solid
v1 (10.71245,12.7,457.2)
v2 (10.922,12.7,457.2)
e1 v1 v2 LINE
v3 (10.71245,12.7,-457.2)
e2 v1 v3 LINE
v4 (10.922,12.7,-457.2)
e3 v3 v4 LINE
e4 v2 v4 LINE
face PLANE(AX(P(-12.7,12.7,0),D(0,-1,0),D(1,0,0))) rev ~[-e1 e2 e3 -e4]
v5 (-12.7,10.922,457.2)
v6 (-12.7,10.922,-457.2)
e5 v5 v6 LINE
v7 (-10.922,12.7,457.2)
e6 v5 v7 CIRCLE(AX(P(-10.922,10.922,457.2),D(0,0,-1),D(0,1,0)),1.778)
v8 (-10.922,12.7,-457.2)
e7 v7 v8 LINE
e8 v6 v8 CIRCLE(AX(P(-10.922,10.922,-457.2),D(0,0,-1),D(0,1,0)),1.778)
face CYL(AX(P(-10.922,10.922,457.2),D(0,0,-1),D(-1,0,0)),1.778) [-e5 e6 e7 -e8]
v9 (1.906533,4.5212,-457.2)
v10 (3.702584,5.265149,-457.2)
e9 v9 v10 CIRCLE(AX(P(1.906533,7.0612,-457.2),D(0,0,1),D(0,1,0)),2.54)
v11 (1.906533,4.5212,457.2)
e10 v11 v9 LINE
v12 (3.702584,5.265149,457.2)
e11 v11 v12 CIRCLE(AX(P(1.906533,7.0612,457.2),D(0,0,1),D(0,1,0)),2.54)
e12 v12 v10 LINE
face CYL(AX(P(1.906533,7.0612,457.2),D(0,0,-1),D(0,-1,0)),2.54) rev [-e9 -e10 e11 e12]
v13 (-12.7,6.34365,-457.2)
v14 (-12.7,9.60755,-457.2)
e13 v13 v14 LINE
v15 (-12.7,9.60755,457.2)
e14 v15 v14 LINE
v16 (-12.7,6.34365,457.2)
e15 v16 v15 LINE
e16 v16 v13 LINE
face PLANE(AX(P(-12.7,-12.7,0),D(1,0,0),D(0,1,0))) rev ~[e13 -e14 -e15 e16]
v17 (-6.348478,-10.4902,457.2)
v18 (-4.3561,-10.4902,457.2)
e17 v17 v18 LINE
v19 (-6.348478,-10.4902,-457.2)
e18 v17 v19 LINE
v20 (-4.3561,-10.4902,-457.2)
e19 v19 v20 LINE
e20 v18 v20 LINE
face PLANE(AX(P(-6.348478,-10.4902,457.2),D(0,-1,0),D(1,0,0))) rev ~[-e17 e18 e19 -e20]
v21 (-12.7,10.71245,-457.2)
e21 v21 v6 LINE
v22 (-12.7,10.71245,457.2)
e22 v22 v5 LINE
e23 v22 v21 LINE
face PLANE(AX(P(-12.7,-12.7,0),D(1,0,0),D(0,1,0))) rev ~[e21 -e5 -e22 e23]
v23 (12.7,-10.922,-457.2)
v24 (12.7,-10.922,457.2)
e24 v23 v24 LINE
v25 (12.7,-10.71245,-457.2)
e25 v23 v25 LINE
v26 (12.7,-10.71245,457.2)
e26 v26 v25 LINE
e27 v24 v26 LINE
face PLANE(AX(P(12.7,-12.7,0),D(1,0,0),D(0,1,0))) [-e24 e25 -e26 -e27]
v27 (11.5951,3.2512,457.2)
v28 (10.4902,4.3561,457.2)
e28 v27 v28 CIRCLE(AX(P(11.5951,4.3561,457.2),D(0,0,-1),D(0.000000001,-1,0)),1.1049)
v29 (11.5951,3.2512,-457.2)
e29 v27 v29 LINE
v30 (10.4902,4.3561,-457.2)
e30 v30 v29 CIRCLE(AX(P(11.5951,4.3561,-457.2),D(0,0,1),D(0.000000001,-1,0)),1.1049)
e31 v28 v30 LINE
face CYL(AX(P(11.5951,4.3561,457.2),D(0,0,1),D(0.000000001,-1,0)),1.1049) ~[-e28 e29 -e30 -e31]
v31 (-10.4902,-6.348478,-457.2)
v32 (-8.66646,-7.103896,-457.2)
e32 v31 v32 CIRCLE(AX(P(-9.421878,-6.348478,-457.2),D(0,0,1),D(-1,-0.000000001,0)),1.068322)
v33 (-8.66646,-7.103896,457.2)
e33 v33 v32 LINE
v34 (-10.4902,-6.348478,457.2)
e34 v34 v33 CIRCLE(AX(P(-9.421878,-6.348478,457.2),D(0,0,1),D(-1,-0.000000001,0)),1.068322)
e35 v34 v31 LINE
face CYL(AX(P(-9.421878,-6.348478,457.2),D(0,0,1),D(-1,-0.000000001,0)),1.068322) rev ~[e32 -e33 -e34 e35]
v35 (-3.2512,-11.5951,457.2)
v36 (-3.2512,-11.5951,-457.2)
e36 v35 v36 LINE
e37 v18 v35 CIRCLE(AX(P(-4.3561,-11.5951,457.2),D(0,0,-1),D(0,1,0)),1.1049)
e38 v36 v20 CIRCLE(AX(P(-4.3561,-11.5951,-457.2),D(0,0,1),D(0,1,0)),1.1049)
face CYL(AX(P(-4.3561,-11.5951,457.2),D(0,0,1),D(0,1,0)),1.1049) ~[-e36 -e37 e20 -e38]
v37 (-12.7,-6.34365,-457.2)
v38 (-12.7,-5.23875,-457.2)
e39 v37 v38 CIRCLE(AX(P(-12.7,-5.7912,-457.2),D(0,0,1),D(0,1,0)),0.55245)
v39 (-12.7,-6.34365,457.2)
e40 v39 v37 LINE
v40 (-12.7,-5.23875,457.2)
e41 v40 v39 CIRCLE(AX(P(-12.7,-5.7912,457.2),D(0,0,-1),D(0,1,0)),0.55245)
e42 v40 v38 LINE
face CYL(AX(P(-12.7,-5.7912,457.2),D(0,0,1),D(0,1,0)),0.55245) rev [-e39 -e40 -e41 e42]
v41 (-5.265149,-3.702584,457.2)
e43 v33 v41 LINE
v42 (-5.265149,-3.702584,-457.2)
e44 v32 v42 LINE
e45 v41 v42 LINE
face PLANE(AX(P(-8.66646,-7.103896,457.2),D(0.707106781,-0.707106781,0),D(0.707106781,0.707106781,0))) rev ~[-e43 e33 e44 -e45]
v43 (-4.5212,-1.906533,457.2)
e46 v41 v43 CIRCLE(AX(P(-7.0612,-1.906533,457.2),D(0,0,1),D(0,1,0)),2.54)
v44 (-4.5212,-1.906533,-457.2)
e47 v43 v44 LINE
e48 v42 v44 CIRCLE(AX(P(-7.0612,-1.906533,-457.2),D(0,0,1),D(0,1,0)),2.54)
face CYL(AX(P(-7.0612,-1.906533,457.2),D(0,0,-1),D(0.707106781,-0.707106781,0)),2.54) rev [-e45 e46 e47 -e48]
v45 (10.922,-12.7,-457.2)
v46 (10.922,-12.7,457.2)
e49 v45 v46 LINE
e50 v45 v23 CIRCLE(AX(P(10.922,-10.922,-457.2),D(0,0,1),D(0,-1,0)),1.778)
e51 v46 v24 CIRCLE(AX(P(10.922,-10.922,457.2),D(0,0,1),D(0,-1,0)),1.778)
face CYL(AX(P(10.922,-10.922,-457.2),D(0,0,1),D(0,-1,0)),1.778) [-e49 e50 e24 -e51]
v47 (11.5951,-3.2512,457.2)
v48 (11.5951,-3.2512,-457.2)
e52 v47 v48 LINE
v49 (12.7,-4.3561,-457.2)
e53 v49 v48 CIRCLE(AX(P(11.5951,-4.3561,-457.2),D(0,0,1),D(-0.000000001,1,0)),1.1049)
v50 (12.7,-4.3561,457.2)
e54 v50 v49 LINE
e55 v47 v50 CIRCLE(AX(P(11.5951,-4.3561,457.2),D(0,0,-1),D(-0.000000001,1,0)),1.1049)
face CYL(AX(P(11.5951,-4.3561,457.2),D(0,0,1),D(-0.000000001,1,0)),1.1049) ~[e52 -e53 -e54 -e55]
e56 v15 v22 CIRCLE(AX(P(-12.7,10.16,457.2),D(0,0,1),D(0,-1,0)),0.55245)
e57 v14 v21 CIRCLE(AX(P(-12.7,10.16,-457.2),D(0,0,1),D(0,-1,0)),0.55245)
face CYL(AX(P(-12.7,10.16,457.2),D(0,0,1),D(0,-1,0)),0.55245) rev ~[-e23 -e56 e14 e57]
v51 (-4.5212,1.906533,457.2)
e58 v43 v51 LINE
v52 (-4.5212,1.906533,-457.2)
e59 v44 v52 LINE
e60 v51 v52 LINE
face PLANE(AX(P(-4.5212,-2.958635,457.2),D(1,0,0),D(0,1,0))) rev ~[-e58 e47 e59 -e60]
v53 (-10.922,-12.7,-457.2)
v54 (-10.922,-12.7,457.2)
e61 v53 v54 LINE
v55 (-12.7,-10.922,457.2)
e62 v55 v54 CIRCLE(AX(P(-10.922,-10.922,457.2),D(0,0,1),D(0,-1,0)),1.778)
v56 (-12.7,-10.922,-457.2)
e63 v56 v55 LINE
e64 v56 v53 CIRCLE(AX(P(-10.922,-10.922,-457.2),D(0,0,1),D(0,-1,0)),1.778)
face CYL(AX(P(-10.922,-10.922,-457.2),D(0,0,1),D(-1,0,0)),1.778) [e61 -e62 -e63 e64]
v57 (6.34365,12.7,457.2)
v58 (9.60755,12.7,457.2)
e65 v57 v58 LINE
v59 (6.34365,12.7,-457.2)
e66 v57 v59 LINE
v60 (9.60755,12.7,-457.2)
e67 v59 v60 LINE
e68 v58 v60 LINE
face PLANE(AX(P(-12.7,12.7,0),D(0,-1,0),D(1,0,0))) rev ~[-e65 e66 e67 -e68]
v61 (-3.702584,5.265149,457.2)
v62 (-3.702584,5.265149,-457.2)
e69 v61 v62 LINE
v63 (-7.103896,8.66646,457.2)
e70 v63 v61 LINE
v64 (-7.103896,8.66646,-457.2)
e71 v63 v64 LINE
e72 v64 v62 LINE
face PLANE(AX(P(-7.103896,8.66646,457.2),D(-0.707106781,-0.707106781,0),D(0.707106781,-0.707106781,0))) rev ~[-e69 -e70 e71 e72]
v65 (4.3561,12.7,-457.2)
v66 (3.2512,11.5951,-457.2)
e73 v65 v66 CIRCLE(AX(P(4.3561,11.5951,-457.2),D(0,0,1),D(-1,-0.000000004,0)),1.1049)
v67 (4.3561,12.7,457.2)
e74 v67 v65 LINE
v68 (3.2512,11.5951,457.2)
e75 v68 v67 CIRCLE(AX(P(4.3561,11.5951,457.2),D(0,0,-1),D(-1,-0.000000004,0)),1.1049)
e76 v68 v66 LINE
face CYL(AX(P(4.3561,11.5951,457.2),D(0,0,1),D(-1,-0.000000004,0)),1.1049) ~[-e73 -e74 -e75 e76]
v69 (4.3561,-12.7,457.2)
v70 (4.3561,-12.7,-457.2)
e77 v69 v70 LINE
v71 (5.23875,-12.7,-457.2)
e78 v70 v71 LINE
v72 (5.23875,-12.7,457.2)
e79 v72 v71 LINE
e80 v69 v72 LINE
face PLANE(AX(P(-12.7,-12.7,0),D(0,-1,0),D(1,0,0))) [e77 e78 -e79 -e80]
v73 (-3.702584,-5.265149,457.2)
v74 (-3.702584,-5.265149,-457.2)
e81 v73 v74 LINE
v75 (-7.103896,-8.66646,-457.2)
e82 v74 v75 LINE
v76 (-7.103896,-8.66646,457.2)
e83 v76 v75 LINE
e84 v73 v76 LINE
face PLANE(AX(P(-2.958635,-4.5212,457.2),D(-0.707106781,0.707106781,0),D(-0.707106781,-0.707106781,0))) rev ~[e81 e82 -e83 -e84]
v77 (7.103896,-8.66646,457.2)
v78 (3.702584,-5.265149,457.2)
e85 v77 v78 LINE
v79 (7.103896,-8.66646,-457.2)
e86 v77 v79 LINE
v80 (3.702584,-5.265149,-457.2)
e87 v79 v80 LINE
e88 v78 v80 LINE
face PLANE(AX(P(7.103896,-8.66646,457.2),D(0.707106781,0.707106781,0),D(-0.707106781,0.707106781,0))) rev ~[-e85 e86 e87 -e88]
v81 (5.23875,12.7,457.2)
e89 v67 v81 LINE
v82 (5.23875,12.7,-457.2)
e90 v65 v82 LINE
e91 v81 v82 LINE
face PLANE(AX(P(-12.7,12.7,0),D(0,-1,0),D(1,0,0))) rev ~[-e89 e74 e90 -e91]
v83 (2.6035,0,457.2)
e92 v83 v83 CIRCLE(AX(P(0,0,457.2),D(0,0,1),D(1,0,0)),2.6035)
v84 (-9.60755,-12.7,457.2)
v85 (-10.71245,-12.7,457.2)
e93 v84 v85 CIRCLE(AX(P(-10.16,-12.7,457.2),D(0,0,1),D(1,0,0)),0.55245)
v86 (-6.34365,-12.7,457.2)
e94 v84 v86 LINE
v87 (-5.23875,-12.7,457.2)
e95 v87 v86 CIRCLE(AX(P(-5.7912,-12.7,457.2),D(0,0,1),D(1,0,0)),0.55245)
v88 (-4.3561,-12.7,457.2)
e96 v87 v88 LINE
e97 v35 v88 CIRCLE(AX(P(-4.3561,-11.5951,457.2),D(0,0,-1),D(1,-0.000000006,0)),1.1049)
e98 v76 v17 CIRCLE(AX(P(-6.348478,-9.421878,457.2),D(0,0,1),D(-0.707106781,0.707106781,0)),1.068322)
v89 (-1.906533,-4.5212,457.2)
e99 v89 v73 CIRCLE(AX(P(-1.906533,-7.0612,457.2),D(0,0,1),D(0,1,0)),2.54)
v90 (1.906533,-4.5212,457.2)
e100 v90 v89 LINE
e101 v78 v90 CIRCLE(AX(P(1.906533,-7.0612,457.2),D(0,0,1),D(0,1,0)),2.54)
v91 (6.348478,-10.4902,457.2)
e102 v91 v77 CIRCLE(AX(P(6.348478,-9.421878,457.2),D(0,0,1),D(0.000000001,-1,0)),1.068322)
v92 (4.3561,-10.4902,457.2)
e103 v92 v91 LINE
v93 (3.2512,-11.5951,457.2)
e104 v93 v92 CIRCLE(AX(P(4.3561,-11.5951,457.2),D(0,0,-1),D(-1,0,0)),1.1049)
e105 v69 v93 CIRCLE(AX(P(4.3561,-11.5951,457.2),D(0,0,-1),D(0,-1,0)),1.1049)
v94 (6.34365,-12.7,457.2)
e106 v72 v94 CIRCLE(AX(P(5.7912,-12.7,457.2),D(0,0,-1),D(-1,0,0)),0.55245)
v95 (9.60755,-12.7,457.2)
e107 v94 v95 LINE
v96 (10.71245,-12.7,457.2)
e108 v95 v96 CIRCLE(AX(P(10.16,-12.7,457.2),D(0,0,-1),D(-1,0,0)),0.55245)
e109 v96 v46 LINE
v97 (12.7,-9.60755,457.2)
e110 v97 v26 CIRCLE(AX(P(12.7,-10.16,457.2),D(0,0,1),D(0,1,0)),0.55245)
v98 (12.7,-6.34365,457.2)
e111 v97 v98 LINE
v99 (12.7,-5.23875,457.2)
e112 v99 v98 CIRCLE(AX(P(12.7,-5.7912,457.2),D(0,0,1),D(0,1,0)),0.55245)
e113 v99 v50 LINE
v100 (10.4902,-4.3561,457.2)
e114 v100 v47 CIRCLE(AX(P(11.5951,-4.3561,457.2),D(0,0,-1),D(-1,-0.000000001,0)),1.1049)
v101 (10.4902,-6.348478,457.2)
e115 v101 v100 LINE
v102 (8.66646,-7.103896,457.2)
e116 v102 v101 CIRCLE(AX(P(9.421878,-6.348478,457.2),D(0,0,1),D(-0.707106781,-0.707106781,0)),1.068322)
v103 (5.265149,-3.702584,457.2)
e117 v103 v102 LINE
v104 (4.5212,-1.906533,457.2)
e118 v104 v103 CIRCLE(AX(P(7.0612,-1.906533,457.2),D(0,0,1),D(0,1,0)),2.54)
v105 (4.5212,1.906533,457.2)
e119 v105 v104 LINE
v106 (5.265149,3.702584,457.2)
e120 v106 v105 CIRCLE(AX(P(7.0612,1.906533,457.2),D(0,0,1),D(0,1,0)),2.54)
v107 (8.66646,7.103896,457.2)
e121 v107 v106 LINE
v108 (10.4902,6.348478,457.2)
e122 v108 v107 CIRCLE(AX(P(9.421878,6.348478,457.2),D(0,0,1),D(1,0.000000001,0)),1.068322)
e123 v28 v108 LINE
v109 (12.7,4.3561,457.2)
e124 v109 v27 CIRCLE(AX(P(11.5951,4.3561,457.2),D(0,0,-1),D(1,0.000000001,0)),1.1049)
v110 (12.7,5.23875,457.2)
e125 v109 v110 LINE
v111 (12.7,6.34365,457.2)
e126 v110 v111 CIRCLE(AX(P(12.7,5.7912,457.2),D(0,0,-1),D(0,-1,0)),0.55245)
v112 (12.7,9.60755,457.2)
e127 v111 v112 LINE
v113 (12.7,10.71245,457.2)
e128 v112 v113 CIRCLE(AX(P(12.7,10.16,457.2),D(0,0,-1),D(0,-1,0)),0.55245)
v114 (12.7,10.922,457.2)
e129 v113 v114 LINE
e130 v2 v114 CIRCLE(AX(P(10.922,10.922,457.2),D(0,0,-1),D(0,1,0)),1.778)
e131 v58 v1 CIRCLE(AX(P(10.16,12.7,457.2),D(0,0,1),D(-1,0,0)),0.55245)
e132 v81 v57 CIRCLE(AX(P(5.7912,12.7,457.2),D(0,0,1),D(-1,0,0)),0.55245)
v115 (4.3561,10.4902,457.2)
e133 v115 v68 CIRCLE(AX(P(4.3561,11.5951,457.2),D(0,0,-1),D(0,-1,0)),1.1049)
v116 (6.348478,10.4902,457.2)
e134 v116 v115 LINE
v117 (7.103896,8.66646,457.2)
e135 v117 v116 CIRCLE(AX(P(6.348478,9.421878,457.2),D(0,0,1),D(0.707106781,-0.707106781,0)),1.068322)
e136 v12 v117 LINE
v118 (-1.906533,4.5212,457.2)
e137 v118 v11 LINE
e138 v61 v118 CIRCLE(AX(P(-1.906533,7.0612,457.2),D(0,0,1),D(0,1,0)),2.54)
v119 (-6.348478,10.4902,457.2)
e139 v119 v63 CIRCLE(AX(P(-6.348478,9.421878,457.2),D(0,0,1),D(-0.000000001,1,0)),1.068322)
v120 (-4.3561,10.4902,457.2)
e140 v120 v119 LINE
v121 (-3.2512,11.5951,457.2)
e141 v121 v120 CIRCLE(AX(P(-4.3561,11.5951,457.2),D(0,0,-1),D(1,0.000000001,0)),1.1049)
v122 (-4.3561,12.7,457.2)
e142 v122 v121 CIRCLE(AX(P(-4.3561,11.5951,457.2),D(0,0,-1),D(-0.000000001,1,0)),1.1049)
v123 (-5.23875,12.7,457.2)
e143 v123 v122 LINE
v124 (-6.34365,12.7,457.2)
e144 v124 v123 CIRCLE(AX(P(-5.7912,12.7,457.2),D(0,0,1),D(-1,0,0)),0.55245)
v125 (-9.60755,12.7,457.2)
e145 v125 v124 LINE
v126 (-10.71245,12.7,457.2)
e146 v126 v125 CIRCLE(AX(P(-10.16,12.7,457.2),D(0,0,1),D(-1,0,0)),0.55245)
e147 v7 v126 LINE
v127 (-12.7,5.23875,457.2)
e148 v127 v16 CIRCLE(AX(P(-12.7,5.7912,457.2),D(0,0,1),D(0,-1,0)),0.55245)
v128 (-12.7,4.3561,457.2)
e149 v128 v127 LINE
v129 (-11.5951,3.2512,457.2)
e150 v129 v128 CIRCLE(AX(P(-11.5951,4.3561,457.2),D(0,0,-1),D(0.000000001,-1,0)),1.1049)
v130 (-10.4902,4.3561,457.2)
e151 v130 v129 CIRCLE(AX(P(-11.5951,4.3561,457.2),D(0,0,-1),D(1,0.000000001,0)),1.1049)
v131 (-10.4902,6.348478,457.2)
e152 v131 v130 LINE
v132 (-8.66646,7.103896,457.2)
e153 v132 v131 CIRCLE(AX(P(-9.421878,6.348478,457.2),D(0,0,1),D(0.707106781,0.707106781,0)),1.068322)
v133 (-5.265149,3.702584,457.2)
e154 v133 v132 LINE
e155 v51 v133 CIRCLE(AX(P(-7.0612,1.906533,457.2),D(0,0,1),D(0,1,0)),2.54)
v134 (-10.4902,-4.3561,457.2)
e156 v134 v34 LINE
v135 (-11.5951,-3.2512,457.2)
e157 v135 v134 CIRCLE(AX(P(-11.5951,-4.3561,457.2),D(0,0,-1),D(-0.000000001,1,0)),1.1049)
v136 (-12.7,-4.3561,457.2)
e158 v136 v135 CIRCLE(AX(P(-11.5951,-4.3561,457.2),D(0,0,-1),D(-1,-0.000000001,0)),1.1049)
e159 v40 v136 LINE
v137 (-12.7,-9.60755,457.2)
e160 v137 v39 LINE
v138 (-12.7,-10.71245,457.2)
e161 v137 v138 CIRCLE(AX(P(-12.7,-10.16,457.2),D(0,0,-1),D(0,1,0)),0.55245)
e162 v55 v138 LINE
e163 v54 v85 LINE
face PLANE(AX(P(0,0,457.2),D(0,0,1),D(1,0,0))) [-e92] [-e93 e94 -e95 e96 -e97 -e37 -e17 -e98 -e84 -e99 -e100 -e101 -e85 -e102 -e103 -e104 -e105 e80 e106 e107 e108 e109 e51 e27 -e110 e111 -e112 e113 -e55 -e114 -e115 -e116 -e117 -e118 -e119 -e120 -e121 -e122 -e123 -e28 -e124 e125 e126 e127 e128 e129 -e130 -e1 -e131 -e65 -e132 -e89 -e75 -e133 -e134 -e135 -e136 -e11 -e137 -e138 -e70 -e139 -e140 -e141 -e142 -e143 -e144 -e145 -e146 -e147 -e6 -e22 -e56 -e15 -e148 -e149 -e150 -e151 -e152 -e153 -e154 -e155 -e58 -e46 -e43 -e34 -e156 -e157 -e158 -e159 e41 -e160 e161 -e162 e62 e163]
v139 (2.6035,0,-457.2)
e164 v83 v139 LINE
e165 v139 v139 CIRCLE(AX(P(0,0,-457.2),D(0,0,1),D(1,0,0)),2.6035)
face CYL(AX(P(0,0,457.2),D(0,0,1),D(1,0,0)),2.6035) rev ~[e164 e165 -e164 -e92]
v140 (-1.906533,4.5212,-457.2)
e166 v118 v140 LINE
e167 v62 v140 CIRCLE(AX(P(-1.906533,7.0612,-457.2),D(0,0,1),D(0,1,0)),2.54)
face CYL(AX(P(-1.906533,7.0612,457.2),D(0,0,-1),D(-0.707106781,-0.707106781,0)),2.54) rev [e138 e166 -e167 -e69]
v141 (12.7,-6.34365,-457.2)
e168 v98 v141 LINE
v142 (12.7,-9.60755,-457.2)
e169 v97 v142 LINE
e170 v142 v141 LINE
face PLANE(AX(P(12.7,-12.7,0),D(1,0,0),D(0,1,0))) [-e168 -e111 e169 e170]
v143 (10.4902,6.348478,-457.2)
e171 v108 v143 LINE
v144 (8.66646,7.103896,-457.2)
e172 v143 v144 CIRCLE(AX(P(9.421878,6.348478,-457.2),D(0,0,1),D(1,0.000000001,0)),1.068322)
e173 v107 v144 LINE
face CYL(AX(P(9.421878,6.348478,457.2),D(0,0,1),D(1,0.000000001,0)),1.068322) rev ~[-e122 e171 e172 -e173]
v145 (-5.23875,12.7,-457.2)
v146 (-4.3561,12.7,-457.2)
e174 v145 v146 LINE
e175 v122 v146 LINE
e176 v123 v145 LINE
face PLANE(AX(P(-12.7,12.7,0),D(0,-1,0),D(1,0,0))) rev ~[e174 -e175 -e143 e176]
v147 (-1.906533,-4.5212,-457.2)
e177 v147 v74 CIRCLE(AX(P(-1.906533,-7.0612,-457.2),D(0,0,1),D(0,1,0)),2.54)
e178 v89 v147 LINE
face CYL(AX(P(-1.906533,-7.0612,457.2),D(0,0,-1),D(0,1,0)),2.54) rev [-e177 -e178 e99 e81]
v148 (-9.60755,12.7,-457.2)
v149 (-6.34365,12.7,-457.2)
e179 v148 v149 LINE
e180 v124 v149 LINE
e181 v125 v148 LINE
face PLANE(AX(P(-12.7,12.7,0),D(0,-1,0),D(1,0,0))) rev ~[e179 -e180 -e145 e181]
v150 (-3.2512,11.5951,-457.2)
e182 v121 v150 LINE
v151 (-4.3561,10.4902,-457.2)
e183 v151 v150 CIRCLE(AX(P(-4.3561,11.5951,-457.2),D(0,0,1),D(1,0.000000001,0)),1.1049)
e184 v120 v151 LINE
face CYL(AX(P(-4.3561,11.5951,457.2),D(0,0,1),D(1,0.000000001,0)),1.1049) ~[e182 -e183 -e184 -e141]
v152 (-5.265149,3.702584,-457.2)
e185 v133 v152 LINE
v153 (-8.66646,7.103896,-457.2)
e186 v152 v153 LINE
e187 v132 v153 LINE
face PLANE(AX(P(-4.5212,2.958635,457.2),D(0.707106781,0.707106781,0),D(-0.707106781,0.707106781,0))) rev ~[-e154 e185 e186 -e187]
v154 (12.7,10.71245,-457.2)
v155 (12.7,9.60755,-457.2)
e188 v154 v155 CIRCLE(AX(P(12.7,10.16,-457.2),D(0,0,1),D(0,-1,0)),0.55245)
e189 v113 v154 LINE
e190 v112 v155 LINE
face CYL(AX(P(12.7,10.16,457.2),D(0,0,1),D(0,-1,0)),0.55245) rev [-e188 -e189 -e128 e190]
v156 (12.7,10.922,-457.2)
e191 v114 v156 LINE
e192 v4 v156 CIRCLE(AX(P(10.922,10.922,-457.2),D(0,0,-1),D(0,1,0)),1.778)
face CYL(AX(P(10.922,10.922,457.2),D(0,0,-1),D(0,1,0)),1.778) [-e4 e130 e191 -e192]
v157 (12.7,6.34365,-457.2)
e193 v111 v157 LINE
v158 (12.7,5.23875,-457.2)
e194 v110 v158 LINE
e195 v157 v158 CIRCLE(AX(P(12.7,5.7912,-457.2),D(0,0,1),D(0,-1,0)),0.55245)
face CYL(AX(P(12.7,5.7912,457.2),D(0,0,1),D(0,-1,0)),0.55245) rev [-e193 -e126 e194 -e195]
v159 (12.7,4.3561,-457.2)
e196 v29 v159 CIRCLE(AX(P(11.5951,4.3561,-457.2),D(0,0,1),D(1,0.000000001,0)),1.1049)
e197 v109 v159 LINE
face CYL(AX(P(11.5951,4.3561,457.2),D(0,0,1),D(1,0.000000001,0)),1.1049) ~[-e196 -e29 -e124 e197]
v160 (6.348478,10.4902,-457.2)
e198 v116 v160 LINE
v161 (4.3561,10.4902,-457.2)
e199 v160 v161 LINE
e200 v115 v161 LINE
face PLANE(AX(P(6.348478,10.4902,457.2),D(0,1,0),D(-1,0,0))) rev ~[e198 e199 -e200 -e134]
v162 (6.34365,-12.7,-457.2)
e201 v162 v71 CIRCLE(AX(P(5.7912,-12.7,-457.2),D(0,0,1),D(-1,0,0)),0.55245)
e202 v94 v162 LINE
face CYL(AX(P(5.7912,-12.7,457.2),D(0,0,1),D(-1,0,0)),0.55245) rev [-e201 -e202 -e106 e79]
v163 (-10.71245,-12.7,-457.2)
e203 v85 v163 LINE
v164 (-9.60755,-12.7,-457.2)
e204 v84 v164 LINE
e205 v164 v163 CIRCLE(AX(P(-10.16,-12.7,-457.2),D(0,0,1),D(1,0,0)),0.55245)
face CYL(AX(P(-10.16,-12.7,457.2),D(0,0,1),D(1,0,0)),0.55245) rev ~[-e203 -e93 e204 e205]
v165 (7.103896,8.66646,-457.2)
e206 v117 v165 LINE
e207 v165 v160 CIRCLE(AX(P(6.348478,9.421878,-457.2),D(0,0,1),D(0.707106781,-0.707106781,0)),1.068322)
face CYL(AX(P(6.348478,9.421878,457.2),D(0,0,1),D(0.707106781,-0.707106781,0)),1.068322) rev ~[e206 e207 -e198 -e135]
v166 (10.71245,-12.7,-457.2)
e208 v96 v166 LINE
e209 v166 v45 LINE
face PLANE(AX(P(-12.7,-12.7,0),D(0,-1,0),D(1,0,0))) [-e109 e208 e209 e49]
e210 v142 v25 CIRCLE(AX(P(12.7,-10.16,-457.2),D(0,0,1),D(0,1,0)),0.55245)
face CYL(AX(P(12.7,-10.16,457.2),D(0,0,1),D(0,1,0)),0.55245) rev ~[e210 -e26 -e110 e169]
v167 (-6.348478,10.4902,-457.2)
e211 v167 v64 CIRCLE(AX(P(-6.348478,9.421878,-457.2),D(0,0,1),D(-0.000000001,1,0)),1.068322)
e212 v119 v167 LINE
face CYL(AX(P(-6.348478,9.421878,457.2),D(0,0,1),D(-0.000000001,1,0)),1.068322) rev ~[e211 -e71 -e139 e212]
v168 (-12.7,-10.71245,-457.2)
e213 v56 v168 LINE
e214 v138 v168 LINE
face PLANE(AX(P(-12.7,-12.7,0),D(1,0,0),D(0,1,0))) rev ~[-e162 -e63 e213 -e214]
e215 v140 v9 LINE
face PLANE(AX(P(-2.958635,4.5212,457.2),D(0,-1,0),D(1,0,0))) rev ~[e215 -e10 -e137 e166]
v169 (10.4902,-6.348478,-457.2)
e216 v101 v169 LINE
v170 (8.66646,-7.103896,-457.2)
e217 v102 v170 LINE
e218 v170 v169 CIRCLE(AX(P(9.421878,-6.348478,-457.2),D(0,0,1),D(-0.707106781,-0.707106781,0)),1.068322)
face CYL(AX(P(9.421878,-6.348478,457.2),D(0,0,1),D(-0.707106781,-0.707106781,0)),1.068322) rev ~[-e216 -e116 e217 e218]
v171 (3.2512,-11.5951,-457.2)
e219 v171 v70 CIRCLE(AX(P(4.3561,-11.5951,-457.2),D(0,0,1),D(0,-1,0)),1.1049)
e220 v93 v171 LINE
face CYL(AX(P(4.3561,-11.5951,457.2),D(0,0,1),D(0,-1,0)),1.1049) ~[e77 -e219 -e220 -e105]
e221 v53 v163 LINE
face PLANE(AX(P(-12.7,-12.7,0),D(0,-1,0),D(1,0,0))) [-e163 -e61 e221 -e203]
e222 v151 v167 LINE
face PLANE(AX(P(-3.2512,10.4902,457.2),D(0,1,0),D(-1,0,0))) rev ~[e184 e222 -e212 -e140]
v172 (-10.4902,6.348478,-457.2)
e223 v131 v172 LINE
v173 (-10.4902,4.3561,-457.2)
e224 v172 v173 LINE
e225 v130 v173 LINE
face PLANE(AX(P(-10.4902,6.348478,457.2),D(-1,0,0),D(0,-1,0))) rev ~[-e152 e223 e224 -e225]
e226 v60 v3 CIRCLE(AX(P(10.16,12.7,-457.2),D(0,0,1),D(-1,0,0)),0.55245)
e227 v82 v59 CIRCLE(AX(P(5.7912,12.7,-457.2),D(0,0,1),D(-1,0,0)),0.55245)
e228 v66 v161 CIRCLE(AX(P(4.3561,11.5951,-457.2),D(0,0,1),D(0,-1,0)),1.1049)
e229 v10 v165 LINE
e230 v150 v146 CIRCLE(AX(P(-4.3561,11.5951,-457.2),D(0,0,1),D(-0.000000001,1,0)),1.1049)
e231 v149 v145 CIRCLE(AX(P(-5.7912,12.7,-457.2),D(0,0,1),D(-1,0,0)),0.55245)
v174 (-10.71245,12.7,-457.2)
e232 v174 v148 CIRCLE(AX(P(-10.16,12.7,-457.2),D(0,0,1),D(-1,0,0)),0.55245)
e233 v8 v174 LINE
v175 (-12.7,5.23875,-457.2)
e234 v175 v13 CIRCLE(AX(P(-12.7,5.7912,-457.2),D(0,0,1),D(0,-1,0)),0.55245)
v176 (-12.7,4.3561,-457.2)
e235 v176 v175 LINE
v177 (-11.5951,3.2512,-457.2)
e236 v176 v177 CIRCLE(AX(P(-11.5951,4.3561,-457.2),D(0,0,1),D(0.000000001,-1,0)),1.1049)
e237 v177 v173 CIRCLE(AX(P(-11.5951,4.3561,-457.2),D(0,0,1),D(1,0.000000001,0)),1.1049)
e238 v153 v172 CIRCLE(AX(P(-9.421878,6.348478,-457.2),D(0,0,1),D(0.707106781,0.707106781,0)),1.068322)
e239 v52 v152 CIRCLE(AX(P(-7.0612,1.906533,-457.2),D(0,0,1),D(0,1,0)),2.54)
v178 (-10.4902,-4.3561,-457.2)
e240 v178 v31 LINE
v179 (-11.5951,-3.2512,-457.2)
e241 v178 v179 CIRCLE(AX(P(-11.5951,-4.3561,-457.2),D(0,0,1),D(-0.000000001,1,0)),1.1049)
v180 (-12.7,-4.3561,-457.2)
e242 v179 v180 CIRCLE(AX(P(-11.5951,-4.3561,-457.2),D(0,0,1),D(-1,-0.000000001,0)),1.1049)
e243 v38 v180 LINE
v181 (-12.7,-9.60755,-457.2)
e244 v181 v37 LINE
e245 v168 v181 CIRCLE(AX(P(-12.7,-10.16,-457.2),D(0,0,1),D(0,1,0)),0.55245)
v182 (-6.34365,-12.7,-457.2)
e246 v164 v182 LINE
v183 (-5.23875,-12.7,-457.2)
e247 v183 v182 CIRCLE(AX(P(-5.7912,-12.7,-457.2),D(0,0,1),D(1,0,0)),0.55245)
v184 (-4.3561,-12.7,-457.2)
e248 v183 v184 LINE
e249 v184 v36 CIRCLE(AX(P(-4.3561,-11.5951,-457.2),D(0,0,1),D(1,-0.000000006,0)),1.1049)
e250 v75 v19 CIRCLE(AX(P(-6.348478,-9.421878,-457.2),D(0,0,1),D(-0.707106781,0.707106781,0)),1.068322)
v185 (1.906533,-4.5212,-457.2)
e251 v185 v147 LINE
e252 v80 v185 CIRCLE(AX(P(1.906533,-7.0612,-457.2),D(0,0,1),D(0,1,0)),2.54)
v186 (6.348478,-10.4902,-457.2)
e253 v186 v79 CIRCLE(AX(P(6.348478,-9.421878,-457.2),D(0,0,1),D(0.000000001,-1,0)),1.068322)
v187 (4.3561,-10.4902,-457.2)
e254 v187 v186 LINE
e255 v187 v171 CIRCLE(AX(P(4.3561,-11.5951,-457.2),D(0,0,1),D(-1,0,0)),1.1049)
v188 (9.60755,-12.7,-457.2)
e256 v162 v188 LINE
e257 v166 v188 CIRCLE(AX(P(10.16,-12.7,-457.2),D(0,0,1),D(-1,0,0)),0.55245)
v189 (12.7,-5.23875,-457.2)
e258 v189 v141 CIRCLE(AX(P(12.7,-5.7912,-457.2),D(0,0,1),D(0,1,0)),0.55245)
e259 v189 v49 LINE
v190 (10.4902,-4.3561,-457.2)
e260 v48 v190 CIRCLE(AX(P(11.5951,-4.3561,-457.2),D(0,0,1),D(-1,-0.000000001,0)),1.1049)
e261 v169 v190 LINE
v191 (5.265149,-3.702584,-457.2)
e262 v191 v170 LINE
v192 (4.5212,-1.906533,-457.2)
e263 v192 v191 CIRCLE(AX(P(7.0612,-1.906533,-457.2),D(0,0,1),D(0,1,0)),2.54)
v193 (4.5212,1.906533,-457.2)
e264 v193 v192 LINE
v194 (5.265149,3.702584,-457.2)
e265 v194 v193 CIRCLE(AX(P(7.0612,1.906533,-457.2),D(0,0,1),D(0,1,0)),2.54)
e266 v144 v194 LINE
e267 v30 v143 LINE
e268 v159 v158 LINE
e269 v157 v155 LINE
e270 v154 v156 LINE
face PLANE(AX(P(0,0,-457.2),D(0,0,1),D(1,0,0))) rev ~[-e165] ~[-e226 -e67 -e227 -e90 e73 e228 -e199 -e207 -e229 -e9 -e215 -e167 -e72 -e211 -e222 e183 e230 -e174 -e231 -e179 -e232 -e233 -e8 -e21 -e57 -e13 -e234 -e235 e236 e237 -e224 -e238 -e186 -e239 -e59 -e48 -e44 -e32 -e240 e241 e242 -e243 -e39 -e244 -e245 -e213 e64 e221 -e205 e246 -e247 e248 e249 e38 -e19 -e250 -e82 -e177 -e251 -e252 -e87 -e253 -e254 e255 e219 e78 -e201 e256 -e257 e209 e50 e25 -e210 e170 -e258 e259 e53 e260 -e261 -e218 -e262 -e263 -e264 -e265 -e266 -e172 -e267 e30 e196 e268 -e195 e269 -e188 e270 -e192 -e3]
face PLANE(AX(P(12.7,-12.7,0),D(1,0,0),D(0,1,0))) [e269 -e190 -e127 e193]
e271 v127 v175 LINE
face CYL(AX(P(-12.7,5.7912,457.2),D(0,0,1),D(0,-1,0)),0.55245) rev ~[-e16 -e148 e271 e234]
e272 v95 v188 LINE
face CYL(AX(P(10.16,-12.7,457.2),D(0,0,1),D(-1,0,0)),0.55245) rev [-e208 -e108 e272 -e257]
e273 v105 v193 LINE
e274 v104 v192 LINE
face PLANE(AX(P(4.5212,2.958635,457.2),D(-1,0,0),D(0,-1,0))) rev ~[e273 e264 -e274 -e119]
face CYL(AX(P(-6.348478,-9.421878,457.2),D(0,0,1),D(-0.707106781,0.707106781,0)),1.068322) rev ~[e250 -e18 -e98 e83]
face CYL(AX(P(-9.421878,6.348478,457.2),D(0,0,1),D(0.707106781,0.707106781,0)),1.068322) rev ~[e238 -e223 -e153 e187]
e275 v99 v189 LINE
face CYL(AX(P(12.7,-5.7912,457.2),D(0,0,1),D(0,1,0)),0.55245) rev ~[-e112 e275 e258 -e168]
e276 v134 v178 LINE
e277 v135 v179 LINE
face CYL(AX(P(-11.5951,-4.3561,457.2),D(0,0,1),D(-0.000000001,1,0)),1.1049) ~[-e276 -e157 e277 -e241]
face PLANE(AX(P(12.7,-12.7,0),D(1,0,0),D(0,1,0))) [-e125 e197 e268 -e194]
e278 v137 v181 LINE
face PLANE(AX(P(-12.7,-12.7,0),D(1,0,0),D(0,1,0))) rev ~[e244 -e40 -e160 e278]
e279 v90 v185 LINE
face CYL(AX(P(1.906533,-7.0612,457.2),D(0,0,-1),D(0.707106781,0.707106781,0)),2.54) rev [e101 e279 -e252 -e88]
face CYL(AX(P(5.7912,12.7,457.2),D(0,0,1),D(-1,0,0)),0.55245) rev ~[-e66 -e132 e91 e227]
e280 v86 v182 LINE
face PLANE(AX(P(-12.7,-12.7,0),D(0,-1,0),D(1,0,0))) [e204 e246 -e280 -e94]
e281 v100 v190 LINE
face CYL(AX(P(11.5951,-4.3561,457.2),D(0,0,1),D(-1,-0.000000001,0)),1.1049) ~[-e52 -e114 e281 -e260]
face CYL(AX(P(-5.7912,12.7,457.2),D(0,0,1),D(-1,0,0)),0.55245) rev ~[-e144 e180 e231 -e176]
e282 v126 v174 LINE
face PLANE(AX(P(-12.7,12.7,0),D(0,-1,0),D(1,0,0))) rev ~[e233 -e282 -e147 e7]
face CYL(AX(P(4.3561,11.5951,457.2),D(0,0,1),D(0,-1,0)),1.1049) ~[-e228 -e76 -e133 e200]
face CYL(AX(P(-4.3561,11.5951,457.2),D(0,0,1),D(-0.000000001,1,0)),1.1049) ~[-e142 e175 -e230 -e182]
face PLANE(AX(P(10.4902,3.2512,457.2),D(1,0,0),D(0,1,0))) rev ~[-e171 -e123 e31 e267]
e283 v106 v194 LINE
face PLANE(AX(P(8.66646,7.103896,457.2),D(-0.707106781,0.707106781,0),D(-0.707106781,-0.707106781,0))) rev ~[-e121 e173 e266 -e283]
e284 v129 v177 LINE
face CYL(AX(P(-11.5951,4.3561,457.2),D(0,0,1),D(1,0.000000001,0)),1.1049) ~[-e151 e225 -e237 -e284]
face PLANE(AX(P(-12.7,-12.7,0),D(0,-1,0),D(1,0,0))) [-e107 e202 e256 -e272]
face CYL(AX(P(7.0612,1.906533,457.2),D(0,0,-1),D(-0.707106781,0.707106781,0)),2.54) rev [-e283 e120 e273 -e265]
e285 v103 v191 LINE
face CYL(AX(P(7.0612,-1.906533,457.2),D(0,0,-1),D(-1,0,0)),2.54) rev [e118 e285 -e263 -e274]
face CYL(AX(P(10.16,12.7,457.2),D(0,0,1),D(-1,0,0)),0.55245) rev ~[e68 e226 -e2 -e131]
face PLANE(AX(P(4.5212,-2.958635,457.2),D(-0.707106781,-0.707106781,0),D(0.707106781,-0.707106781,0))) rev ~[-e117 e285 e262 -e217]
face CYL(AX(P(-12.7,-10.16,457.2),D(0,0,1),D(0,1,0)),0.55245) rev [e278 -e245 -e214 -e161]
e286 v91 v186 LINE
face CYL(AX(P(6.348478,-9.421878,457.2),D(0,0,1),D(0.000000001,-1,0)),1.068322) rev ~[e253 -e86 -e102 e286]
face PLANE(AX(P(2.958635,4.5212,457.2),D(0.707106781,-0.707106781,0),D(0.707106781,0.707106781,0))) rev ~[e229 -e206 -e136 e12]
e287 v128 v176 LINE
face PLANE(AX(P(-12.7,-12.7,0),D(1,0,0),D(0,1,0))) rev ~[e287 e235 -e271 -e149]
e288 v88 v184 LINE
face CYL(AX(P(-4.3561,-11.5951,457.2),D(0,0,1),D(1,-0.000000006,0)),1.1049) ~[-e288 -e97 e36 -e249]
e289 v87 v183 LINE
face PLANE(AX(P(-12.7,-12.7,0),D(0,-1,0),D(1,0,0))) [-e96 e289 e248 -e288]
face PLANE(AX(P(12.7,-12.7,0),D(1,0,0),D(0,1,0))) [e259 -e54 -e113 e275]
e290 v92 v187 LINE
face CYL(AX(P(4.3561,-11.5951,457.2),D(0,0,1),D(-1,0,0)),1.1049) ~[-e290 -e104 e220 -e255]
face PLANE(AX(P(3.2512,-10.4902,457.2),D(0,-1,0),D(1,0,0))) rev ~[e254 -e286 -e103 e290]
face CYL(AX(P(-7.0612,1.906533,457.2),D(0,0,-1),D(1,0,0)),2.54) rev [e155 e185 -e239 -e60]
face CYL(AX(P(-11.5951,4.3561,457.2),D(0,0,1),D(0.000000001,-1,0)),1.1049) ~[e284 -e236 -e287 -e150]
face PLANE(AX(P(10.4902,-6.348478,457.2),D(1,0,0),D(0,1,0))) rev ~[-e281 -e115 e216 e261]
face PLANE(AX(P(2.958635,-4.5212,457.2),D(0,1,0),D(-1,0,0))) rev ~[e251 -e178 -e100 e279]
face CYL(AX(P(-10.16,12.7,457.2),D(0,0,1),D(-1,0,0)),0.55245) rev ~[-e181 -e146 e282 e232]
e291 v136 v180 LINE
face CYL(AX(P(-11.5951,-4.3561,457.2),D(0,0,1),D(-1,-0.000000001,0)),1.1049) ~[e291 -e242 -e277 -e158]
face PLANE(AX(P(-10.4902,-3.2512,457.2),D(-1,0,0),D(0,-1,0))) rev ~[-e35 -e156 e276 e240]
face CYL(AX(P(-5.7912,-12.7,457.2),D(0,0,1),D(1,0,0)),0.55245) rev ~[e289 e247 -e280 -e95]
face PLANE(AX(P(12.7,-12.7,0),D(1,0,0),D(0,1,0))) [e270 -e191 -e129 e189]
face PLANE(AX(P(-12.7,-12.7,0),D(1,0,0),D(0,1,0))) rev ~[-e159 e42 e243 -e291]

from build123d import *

# Parameters (mm, degrees)
SKETCH3_W                = 25.4
SKETCH3_H                = 25.4
BOSS_EXTRUDE1_DEPTH      = 457.2
BOSS_EXTRUDE1_DEPTH_BACK = 457.2
SKETCH4_R                = 2.6035
CUT_EXTRUDE1_DEPTH       = 915.4
CUT_EXTRUDE2_DEPTH       = 915.4
FILLET1_R                = 2.54
FILLET2_R                = 1.778


with BuildPart() as part:
    # Sketch3 → Boss-Extrude1 (new body, two sides)
    with BuildSketch(Plane.XY) as boss_extrude1_sk:
        Rectangle(SKETCH3_W, SKETCH3_H)
    extrude(amount=BOSS_EXTRUDE1_DEPTH)
    extrude(boss_extrude1_sk.sketch, amount=-BOSS_EXTRUDE1_DEPTH_BACK)

    # Sketch4 → Cut-Extrude1 (cut, through all)
    with BuildSketch(Plane.XY.offset(457.2)):
        with BuildLine():
            Line((3.2512, 12.7), (-3.2512, 12.7))
            Line((-3.2512, 12.7), (-3.2512, 10.4902))
            Line((-3.2512, 10.4902), (-6.348478019, 10.4902))
            ThreePointArc((-6.348478019, 10.4902), (-7.335478831, 9.830707141), (-7.103895736, 8.666460301))
            Line((-7.103895736, 8.666460301), (-2.958635435, 4.5212))
            Line((-2.958635435, 4.5212), (2.958635435, 4.5212))
            Line((2.958635435, 4.5212), (7.103895736, 8.666460301))
            ThreePointArc((7.103895736, 8.666460301), (7.335478831, 9.830707141), (6.348478019, 10.4902))
            Line((6.348478019, 10.4902), (3.2512, 10.4902))
            Line((3.2512, 10.4902), (3.2512, 12.7))
        make_face()
        with BuildLine():
            Line((12.7, -3.2512), (12.7, 3.2512))
            Line((12.7, 3.2512), (10.4902, 3.2512))
            Line((10.4902, 3.2512), (10.4902, 6.348478019))
            ThreePointArc((10.4902, 6.348478019), (9.830707141, 7.335478831), (8.666460301, 7.103895736))
            Line((8.666460301, 7.103895736), (4.5212, 2.958635435))
            Line((4.5212, 2.958635435), (4.5212, -2.958635435))
            Line((4.5212, -2.958635435), (8.666460301, -7.103895736))
            ThreePointArc((8.666460301, -7.103895736), (9.830707141, -7.335478831), (10.4902, -6.348478019))
            Line((10.4902, -6.348478019), (10.4902, -3.2512))
            Line((10.4902, -3.2512), (12.7, -3.2512))
        make_face()
        with BuildLine():
            Line((-3.2512, -10.4902), (-3.2512, -12.7))
            Line((-3.2512, -12.7), (3.2512, -12.7))
            Line((3.2512, -12.7), (3.2512, -10.4902))
            Line((3.2512, -10.4902), (6.348478019, -10.4902))
            ThreePointArc((6.348478019, -10.4902), (7.335478831, -9.830707141), (7.103895736, -8.666460301))
            Line((7.103895736, -8.666460301), (2.958635435, -4.5212))
            Line((2.958635435, -4.5212), (-2.958635435, -4.5212))
            Line((-2.958635435, -4.5212), (-7.103895736, -8.666460301))
            ThreePointArc((-7.103895736, -8.666460301), (-7.335478831, -9.830707141), (-6.348478019, -10.4902))
            Line((-6.348478019, -10.4902), (-3.2512, -10.4902))
        make_face()
        with BuildLine():
            Line((-10.4902, 3.2512), (-12.7, 3.2512))
            Line((-12.7, 3.2512), (-12.7, -3.2512))
            Line((-12.7, -3.2512), (-10.4902, -3.2512))
            Line((-10.4902, -3.2512), (-10.4902, -6.348478019))
            ThreePointArc((-10.4902, -6.348478019), (-9.830707141, -7.335478831), (-8.666460301, -7.103895736))
            Line((-8.666460301, -7.103895736), (-4.5212, -2.958635435))
            Line((-4.5212, -2.958635435), (-4.5212, 2.958635435))
            Line((-4.5212, 2.958635435), (-8.666460301, 7.103895736))
            ThreePointArc((-8.666460301, 7.103895736), (-9.830707141, 7.335478831), (-10.4902, 6.348478019))
            Line((-10.4902, 6.348478019), (-10.4902, 3.2512))
        make_face()
        Circle(SKETCH4_R)
    extrude(amount=-CUT_EXTRUDE1_DEPTH, mode=Mode.SUBTRACT)

    # Sketch5 → Cut-Extrude2 (cut, through all)
    with BuildSketch(Plane.XY.offset(457.2)):
        with BuildLine():
            ThreePointArc((-11.5951, 3.2512), (-12.376382283, 3.574817717), (-12.7, 4.3561))
            Line((-12.7, 4.3561), (-12.7, 3.2512))
            Line((-12.7, 3.2512), (-11.5951, 3.2512))
        make_face()
        with BuildLine():
            ThreePointArc((-10.4902, 4.3561), (-10.813817717, 3.574817717), (-11.5951, 3.2512))
            Line((-11.5951, 3.2512), (-10.4902, 3.2512))
            Line((-10.4902, 3.2512), (-10.4902, 4.3561))
        make_face()
        with BuildLine():
            Line((-12.7, -3.2512), (-12.7, -4.3561))
            ThreePointArc((-12.7, -4.3561), (-12.376382283, -3.574817717), (-11.5951, -3.2512))
            Line((-11.5951, -3.2512), (-12.7, -3.2512))
        make_face()
        with BuildLine():
            Line((-10.4902, -3.2512), (-11.5951, -3.2512))
            ThreePointArc((-11.5951, -3.2512), (-10.813817717, -3.574817717), (-10.4902, -4.3561))
            Line((-10.4902, -4.3561), (-10.4902, -3.2512))
        make_face()
        with BuildLine():
            Line((-3.2512, -11.595100007), (-3.2512, -10.4902))
            Line((-3.2512, -10.4902), (-4.3561, -10.4902))
            ThreePointArc((-4.3561, -10.4902), (-3.574817715, -10.81381772), (-3.2512, -11.595100007))
        make_face()
        with BuildLine():
            Line((-3.2512, -12.7), (-3.2512, -11.595100007))
            ThreePointArc((-3.2512, -11.595100007), (-3.57481772, -12.376382285), (-4.3561, -12.7))
            Line((-4.3561, -12.7), (-3.2512, -12.7))
        make_face()
        with BuildLine():
            Line((3.2512, -10.4902), (3.2512, -11.5951))
            ThreePointArc((3.2512, -11.5951), (3.574817718, -10.813817717), (4.3561, -10.4902))
            Line((4.3561, -10.4902), (3.2512, -10.4902))
        make_face()
        with BuildLine():
            Line((3.2512, -12.7), (4.3561, -12.7))
            ThreePointArc((4.3561, -12.7), (3.574817717, -12.376382282), (3.2512, -11.5951))
            Line((3.2512, -11.5951), (3.2512, -12.7))
        make_face()
        with BuildLine():
            Line((11.5951, -3.2512), (10.4902, -3.2512))
            Line((10.4902, -3.2512), (10.4902, -4.3561))
            ThreePointArc((10.4902, -4.3561), (10.813817717, -3.574817717), (11.5951, -3.2512))
        make_face()
        with BuildLine():
            Line((12.7, -3.2512), (11.5951, -3.2512))
            ThreePointArc((11.5951, -3.2512), (12.376382283, -3.574817717), (12.7, -4.3561))
            Line((12.7, -4.3561), (12.7, -3.2512))
        make_face()
        with BuildLine():
            Line((10.4902, 3.2512), (11.5951, 3.2512))
            ThreePointArc((11.5951, 3.2512), (10.813817717, 3.574817717), (10.4902, 4.3561))
            Line((10.4902, 4.3561), (10.4902, 3.2512))
        make_face()
        with BuildLine():
            Line((12.7, 3.2512), (12.7, 4.3561))
            ThreePointArc((12.7, 4.3561), (12.376382283, 3.574817717), (11.5951, 3.2512))
            Line((11.5951, 3.2512), (12.7, 3.2512))
        make_face()
        with BuildLine():
            Line((3.2512, 12.7), (3.2512, 11.595099996))
            ThreePointArc((3.2512, 11.595099996), (3.574817716, 12.376382281), (4.3561, 12.7))
            Line((4.3561, 12.7), (3.2512, 12.7))
        make_face()
        with BuildLine():
            Line((3.2512, 11.595099996), (3.2512, 10.4902))
            Line((3.2512, 10.4902), (4.3561, 10.4902))
            ThreePointArc((4.3561, 10.4902), (3.574817719, 10.813817716), (3.2512, 11.595099996))
        make_face()
        with BuildLine():
            Line((-3.2512, 12.7), (-4.3561, 12.7))
            ThreePointArc((-4.3561, 12.7), (-3.574817717, 12.376382283), (-3.2512, 11.5951))
            Line((-3.2512, 11.5951), (-3.2512, 12.7))
        make_face()
        with BuildLine():
            Line((-3.2512, 10.4902), (-3.2512, 11.5951))
            ThreePointArc((-3.2512, 11.5951), (-3.574817717, 10.813817717), (-4.3561, 10.4902))
            Line((-4.3561, 10.4902), (-3.2512, 10.4902))
        make_face()
        with BuildLine():
            ThreePointArc((-12.7, 5.23875), (-12.14755, 5.7912), (-12.7, 6.34365))
            Line((-12.7, 6.34365), (-12.7, 5.23875))
        make_face()
        with BuildLine():
            ThreePointArc((-12.7, 9.60755), (-12.14755, 10.16), (-12.7, 10.71245))
            Line((-12.7, 10.71245), (-12.7, 9.60755))
        make_face()
        with BuildLine():
            ThreePointArc((-10.71245, 12.7), (-10.16, 12.14755), (-9.60755, 12.7))
            Line((-9.60755, 12.7), (-10.71245, 12.7))
        make_face()
        with BuildLine():
            ThreePointArc((-6.34365, 12.7), (-5.7912, 12.14755), (-5.23875, 12.7))
            Line((-5.23875, 12.7), (-6.34365, 12.7))
        make_face()
        with BuildLine():
            Line((6.34365, 12.7), (5.23875, 12.7))
            ThreePointArc((5.23875, 12.7), (5.7912, 12.14755), (6.34365, 12.7))
        make_face()
        with BuildLine():
            Line((10.71245, 12.7), (9.60755, 12.7))
            ThreePointArc((9.60755, 12.7), (10.16, 12.14755), (10.71245, 12.7))
        make_face()
        with BuildLine():
            Line((12.7, 10.71245), (12.7, 9.60755))
            ThreePointArc((12.7, 9.60755), (12.14755, 10.16), (12.7, 10.71245))
        make_face()
        with BuildLine():
            Line((12.7, 6.34365), (12.7, 5.23875))
            ThreePointArc((12.7, 5.23875), (12.14755, 5.7912), (12.7, 6.34365))
        make_face()
        with BuildLine():
            Line((-12.7, -6.34365), (-12.7, -5.23875))
            ThreePointArc((-12.7, -5.23875), (-12.14755, -5.7912), (-12.7, -6.34365))
        make_face()
        with BuildLine():
            Line((-12.7, -10.71245), (-12.7, -9.60755))
            ThreePointArc((-12.7, -9.60755), (-12.14755, -10.16), (-12.7, -10.71245))
        make_face()
        with BuildLine():
            Line((-10.71245, -12.7), (-9.60755, -12.7))
            ThreePointArc((-9.60755, -12.7), (-10.16, -12.14755), (-10.71245, -12.7))
        make_face()
        with BuildLine():
            Line((-6.34365, -12.7), (-5.23875, -12.7))
            ThreePointArc((-5.23875, -12.7), (-5.7912, -12.14755), (-6.34365, -12.7))
        make_face()
        with BuildLine():
            Line((12.7, -10.71245), (12.7, -9.60755))
            ThreePointArc((12.7, -9.60755), (12.14755, -10.16), (12.7, -10.71245))
        make_face()
        with BuildLine():
            Line((12.7, -6.34365), (12.7, -5.23875))
            ThreePointArc((12.7, -5.23875), (12.14755, -5.7912), (12.7, -6.34365))
        make_face()
        with BuildLine():
            Line((10.71245, -12.7), (9.60755, -12.7))
            ThreePointArc((9.60755, -12.7), (10.16, -12.14755), (10.71245, -12.7))
        make_face()
        with BuildLine():
            Line((6.34365, -12.7), (5.23875, -12.7))
            ThreePointArc((5.23875, -12.7), (5.7912, -12.14755), (6.34365, -12.7))
        make_face()
    extrude(amount=-CUT_EXTRUDE2_DEPTH, mode=Mode.SUBTRACT)

    # Fillet1
    fillet1_edges = [part.edges().sort_by_distance(p)[0] for p in [
        (2.958635435, 4.5212, 0),
        (-2.958635435, 4.5212, 0),
        (-2.958635435, -4.5212, 0),
        (2.958635435, -4.5212, 0),
        (4.5212, -2.958635435, 0),
        (4.5212, 2.958635435, 0),
        (-4.5212, 2.958635435, 0),
        (-4.5212, -2.958635435, 0),
    ]]
    fillet(fillet1_edges, radius=FILLET1_R)

    # Fillet2
    fillet2_edges = [part.edges().sort_by_distance(p)[0] for p in [
        (-12.7, 12.7, 0),
        (12.7, 12.7, 0),
        (12.7, -12.7, 0),
        (-12.7, -12.7, 0),
    ]]
    fillet(fillet2_edges, radius=FILLET2_R)


solid = part.part
